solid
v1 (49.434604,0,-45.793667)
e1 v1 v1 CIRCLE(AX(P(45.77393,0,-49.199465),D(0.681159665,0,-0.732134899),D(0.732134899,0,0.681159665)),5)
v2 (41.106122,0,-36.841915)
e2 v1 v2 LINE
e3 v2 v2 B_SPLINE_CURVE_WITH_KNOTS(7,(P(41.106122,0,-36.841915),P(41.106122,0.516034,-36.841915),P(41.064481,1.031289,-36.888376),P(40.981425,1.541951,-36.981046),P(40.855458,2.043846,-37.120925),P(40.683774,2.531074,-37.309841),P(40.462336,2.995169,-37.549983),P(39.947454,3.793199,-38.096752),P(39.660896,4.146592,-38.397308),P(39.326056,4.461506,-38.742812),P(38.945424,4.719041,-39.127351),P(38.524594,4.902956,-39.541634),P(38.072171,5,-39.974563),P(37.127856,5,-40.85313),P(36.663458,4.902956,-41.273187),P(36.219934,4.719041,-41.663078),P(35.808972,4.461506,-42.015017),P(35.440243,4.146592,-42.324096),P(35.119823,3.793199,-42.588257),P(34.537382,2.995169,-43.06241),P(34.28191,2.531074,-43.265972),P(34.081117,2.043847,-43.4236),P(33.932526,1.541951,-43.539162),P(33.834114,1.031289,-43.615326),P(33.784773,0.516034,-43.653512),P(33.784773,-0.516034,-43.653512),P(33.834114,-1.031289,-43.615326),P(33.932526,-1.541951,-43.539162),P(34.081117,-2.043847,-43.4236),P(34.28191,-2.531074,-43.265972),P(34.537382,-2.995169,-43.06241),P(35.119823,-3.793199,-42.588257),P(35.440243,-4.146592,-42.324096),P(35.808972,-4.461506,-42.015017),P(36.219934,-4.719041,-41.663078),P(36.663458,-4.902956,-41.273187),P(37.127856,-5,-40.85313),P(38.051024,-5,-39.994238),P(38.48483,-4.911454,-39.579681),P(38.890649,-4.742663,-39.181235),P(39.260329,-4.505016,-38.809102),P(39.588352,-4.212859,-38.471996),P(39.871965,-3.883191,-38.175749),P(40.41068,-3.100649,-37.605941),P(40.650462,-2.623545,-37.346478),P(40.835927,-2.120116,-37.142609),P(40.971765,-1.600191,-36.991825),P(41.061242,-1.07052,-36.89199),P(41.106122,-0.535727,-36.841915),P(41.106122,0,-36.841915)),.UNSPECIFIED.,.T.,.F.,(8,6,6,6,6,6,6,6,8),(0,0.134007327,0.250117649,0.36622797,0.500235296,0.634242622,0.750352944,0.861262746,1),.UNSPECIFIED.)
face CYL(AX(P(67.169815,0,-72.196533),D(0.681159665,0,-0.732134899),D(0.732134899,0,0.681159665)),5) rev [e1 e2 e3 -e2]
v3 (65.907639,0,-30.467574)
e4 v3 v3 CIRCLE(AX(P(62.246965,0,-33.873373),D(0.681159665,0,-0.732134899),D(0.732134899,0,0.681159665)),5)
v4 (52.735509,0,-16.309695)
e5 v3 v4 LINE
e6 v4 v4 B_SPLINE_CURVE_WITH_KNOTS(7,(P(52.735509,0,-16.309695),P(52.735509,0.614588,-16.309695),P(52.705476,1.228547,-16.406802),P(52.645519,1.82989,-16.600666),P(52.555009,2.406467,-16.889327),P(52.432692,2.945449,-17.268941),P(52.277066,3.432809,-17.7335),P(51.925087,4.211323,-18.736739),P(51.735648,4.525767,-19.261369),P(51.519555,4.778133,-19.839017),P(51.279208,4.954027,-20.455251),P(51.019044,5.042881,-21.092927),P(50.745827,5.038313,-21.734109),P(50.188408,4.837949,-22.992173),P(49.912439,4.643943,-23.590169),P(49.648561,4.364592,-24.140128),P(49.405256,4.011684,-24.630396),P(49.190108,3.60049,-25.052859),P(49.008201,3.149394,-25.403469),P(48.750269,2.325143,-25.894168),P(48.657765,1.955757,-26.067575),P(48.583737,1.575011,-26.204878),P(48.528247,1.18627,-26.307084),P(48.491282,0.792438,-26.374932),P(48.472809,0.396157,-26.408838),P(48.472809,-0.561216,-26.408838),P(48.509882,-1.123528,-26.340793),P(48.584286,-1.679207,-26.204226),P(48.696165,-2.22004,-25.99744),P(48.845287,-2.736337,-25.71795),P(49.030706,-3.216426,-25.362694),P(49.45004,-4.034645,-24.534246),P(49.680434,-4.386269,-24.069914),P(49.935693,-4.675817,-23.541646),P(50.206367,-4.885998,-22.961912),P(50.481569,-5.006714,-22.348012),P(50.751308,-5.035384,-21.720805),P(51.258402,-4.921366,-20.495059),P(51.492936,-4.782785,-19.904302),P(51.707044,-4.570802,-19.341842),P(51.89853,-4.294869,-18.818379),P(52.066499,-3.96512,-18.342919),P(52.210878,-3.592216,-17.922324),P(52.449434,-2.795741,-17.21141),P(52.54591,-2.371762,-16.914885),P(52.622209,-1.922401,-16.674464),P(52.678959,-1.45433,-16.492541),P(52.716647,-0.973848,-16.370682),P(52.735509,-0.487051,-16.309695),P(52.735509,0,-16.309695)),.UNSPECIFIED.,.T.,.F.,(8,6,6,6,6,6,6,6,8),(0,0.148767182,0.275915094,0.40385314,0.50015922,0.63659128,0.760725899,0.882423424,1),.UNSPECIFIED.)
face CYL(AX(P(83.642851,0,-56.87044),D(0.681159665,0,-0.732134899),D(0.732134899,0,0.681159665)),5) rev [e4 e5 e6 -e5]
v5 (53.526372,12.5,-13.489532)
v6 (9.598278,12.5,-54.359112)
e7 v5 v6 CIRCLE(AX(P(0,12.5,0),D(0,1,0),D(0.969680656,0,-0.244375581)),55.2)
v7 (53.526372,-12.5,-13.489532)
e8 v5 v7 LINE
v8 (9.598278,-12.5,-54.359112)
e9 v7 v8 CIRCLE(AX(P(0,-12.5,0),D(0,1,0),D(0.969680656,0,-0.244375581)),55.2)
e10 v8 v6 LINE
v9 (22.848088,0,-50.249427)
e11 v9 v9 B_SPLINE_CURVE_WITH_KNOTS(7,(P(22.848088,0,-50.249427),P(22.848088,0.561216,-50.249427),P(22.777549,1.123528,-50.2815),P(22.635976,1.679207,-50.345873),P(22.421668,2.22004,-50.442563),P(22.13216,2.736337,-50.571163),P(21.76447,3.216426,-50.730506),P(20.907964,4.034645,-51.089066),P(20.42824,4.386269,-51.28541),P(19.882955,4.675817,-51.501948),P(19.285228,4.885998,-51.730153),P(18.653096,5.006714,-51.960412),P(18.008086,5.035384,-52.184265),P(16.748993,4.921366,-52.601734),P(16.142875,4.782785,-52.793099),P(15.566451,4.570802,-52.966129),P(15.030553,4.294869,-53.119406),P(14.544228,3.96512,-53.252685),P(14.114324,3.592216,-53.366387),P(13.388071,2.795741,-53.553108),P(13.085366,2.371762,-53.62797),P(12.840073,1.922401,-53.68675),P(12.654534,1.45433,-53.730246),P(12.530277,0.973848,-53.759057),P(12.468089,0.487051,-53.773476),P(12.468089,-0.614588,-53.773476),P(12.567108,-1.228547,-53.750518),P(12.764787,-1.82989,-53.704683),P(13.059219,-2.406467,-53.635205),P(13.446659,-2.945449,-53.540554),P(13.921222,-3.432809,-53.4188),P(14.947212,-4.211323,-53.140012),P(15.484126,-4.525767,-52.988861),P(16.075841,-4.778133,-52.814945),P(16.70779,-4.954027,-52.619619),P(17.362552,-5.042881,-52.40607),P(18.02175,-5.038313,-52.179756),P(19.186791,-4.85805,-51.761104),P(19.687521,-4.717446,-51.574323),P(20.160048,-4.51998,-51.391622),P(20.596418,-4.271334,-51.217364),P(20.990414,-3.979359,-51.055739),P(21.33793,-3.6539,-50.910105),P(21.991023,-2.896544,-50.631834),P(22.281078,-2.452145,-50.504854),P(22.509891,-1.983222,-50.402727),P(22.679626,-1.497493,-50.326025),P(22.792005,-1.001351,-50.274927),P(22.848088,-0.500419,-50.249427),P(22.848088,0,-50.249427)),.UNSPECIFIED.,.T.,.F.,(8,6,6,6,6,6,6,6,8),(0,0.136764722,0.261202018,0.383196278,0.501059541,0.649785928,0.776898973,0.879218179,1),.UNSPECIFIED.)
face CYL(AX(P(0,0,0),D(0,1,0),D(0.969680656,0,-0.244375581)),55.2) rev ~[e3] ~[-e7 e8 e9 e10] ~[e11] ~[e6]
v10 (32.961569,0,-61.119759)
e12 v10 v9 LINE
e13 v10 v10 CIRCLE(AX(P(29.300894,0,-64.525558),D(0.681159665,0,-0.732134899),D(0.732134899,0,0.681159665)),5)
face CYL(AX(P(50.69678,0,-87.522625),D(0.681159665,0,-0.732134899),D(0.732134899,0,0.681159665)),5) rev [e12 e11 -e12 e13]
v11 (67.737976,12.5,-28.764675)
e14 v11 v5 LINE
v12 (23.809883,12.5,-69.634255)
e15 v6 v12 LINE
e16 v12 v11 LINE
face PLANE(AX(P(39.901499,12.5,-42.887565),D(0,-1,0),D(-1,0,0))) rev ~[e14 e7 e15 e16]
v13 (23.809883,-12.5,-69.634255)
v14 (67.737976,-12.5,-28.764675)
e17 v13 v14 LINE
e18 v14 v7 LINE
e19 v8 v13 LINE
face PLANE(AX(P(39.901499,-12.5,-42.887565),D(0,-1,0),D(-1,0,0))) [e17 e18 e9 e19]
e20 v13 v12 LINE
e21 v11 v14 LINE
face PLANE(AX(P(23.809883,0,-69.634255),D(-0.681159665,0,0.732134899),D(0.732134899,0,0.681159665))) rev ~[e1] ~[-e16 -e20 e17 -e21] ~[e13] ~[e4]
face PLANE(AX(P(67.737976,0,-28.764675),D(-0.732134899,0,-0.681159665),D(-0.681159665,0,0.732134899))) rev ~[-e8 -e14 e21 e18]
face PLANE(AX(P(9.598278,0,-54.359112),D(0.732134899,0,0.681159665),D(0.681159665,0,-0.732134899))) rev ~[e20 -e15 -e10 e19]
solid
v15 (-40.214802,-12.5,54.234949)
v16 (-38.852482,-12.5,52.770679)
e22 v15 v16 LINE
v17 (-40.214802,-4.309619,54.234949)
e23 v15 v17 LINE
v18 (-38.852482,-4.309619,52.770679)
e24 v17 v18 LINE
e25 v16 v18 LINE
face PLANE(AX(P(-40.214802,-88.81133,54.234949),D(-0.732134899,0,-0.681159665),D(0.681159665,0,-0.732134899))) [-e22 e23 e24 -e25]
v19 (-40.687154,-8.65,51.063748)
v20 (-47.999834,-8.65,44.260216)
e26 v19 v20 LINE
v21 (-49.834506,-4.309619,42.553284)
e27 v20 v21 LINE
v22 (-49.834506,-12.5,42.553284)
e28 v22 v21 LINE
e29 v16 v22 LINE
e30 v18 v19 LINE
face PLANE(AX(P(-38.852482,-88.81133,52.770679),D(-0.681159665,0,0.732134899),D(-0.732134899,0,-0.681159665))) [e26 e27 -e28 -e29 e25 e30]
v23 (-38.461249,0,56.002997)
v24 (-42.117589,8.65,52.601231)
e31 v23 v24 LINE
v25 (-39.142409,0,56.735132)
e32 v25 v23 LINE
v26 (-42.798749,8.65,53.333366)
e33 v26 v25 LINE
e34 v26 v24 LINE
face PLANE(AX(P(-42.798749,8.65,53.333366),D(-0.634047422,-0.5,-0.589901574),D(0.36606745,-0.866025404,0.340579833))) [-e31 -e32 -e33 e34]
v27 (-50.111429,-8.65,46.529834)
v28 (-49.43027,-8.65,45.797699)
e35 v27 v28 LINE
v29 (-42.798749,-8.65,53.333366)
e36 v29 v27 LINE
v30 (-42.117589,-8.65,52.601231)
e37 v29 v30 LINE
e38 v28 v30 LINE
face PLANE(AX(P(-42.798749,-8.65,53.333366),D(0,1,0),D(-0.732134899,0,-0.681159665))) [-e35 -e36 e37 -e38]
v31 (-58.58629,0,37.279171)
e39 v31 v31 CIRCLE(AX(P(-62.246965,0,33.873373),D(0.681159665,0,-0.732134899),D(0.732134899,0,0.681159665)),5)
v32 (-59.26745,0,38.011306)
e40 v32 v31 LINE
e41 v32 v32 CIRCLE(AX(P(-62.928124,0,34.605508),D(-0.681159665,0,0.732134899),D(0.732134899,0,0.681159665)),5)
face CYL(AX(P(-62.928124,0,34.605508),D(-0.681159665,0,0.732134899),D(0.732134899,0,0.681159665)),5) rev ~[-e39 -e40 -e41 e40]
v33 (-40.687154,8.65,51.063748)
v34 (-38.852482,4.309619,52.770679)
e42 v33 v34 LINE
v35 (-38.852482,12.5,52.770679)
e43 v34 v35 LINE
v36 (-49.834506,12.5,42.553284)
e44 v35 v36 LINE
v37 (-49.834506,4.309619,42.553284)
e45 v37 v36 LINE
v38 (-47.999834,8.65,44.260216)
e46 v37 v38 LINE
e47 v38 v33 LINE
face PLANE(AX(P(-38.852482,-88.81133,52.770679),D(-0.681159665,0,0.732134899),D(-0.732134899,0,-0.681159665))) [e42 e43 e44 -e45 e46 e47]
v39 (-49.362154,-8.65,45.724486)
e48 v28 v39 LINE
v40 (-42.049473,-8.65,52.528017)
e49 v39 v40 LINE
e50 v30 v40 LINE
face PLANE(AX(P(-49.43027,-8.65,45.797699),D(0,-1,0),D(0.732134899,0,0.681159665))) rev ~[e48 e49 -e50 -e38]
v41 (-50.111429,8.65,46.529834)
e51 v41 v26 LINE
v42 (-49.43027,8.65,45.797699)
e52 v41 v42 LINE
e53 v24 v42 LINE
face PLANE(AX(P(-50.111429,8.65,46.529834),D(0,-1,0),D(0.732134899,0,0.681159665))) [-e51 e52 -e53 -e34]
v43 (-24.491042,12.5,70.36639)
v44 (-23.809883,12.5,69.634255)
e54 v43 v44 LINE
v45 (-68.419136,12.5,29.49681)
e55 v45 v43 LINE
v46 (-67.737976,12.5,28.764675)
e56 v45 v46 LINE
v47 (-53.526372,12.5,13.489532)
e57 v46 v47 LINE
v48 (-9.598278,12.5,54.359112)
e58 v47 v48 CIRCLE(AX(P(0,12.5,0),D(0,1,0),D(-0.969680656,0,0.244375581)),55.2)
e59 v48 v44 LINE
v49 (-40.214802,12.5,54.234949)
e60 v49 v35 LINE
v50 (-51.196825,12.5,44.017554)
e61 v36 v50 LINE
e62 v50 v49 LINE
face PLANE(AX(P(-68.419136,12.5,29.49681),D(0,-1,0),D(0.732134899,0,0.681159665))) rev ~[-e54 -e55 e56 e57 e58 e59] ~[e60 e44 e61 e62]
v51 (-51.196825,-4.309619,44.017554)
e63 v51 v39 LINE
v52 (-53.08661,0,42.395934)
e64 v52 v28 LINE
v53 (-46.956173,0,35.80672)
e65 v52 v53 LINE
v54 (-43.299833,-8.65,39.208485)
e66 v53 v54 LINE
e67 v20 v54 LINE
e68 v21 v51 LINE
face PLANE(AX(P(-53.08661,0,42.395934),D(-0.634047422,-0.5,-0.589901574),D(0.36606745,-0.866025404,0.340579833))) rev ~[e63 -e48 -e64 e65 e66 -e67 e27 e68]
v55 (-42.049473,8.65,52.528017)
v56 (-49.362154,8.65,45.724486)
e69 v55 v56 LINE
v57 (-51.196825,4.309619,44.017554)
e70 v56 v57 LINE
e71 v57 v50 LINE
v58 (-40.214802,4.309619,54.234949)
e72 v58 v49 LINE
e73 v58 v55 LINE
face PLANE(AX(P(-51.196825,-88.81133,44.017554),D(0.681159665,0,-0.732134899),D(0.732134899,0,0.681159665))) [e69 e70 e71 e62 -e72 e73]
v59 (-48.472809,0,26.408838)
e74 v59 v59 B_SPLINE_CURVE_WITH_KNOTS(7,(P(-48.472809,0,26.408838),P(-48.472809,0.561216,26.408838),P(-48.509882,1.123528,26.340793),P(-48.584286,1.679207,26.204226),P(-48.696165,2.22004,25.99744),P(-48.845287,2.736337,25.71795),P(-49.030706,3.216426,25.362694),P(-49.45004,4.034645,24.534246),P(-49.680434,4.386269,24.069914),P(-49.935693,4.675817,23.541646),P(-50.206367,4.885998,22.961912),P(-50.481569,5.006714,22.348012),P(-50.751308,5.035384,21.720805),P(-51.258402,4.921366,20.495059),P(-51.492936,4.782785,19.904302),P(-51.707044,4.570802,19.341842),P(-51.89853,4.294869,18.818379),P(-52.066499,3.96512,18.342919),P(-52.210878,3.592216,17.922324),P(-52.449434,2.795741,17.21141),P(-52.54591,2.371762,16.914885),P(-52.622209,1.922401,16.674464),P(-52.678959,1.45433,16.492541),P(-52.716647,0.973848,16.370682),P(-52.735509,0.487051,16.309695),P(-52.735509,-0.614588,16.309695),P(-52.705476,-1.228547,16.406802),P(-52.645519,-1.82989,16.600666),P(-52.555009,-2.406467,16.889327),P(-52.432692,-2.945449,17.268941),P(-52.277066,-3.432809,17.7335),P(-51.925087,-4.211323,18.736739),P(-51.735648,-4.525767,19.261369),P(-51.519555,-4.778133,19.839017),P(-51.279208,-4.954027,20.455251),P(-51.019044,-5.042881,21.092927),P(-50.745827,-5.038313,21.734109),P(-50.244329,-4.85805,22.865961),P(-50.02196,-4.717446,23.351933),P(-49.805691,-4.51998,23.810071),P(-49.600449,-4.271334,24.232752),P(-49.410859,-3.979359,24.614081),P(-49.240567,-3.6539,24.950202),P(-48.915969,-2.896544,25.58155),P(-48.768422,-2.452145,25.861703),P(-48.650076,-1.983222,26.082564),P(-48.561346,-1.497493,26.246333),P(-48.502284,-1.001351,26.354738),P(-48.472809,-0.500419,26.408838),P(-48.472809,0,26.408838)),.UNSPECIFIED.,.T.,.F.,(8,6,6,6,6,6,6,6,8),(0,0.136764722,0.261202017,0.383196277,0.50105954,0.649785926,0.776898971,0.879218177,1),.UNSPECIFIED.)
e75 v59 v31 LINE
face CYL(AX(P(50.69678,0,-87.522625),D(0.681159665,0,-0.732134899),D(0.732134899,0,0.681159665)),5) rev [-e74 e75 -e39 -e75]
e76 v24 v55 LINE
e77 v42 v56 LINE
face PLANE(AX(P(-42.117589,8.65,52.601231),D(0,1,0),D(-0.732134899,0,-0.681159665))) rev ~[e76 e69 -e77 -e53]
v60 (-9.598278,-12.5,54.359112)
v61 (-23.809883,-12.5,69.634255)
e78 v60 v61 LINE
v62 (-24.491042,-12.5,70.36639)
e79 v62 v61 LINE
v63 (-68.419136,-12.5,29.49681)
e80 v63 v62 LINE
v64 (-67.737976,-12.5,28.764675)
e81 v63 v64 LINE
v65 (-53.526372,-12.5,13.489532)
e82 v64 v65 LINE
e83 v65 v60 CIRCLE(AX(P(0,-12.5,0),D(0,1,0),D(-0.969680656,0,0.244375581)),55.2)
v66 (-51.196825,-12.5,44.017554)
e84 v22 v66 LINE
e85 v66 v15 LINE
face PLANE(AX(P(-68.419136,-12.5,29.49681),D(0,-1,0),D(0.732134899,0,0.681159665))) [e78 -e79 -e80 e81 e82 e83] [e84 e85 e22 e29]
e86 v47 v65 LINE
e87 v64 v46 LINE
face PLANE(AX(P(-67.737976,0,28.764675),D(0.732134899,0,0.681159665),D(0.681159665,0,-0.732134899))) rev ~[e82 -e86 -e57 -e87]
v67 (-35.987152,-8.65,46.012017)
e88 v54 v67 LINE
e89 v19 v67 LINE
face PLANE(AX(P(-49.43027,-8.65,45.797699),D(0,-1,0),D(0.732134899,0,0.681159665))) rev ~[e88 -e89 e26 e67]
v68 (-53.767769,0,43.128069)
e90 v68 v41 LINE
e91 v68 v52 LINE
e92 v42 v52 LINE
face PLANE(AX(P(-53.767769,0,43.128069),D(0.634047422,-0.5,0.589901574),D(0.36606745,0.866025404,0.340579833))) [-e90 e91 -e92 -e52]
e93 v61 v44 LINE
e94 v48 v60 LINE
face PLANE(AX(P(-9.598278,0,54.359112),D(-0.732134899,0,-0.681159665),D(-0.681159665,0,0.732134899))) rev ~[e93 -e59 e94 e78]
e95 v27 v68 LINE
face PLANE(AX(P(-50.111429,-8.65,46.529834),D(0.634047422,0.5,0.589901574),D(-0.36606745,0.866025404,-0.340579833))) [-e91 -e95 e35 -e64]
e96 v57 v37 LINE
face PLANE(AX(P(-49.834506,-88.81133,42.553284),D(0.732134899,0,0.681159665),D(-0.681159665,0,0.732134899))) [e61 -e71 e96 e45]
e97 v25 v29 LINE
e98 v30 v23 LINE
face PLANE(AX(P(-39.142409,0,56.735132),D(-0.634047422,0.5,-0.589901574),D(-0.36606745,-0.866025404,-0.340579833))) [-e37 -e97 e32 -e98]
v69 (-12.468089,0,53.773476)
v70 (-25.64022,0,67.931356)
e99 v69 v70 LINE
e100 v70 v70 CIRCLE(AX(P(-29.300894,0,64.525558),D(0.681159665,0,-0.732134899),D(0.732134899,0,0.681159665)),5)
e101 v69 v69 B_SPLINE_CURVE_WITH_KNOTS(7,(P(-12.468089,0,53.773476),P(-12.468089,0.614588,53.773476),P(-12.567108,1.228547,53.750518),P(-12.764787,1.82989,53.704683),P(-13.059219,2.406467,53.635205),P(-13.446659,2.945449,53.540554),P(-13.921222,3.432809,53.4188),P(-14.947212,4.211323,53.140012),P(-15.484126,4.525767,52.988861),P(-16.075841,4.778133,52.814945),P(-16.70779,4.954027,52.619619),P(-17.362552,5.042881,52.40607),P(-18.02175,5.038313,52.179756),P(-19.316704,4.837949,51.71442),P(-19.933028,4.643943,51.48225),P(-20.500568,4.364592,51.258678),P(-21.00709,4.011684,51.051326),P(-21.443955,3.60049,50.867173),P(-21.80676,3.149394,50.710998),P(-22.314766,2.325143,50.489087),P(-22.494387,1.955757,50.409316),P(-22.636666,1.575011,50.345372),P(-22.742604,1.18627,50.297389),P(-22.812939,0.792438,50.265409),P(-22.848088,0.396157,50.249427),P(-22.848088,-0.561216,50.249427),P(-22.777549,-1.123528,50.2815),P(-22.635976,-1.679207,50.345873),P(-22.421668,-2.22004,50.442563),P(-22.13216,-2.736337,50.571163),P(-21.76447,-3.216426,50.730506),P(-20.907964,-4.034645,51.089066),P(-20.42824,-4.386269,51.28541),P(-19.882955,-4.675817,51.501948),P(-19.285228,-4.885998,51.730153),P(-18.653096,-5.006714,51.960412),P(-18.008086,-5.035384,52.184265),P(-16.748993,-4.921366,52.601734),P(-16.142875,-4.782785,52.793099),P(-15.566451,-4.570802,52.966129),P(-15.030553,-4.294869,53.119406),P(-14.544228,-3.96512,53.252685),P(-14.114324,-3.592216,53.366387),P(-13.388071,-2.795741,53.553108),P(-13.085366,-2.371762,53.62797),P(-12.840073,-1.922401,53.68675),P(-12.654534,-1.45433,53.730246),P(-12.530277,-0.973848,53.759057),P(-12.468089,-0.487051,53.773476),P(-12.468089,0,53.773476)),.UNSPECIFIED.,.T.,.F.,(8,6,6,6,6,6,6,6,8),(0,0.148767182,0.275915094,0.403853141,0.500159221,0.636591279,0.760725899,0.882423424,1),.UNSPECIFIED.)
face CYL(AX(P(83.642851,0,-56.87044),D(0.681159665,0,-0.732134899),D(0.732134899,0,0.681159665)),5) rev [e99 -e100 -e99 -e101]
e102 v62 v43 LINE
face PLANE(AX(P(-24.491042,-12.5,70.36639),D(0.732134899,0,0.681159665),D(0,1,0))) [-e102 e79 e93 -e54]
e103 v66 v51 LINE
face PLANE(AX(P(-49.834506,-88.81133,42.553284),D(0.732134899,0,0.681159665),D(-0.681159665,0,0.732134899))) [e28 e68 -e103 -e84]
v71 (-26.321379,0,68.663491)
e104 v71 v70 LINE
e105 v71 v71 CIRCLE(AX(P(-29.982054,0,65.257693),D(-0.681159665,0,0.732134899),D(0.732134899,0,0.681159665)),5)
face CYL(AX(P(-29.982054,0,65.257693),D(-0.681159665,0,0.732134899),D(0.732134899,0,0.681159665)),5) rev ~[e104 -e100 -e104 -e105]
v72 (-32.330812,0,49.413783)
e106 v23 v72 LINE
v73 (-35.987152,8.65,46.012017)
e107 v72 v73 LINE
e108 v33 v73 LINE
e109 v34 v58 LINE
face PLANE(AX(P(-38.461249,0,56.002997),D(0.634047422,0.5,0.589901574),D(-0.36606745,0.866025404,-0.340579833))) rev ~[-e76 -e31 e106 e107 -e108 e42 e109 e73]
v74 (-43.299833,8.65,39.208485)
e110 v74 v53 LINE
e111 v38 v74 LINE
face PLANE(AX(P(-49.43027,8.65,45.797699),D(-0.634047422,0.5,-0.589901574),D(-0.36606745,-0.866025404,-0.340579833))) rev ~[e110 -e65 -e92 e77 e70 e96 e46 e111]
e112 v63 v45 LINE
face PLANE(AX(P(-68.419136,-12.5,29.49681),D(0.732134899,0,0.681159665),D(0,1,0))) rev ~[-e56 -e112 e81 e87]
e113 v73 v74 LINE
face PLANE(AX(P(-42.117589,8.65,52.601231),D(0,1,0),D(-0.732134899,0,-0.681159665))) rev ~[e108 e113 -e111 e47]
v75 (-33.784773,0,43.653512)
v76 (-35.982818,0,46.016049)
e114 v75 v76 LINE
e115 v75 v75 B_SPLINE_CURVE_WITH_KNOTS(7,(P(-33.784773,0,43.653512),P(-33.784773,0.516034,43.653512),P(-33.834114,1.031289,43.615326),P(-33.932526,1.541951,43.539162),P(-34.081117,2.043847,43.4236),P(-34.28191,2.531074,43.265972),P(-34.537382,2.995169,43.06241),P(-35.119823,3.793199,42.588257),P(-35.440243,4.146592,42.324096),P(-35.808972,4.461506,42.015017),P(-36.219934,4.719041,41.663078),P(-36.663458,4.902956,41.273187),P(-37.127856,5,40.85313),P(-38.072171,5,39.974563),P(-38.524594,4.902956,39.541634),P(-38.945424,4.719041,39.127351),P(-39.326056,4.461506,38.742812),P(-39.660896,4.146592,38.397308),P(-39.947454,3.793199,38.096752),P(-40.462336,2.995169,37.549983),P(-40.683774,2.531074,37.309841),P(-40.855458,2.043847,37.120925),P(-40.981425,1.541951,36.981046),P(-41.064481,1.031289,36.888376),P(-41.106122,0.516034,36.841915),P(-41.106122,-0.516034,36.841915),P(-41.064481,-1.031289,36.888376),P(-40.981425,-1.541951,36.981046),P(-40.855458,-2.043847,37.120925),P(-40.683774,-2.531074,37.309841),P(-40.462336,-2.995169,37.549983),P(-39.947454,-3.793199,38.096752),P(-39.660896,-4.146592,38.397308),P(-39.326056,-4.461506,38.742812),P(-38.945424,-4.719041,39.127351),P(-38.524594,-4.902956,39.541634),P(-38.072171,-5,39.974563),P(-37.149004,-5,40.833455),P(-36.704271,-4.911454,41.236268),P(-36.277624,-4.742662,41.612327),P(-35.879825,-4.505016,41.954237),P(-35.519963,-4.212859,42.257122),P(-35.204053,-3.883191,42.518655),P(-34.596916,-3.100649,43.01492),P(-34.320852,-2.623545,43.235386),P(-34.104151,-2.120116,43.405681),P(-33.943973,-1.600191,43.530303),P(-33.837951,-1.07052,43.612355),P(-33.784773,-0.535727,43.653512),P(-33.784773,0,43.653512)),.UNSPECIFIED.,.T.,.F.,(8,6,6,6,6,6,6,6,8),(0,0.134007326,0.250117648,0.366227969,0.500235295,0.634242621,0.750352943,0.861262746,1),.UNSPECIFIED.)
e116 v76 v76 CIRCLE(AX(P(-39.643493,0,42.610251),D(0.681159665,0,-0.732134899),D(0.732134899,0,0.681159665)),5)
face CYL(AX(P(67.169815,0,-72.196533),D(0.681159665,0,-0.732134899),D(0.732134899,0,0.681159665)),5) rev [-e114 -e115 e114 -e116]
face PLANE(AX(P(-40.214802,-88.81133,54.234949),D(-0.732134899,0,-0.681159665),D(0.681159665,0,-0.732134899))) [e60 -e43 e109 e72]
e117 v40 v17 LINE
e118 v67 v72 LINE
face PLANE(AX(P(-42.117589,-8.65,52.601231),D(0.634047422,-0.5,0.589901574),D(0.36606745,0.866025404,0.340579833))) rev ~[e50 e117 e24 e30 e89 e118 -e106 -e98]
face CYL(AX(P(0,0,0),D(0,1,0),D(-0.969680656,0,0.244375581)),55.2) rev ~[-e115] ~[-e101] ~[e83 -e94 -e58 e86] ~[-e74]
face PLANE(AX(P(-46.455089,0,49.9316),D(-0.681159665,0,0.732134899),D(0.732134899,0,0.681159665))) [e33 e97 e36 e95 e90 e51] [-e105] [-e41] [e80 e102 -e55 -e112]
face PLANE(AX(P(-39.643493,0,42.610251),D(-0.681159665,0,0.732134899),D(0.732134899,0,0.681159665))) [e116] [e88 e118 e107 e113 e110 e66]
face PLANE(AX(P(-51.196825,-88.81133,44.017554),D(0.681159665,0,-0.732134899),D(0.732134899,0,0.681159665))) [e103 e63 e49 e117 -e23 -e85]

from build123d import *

# Parameters (mm, degrees)
BOSS_EXTRUDE1_DEPTH     = 12.5
BOSS_EXTRUDE1_2_DEPTH   = 12.5
CUT_EXTRUDE1_DEPTH      = 165.810970211
CUT_EXTRUDE1_DEPTH_BACK = 165.810970211
SKETCH3_R               = 5
CUT_EXTRUDE2_DEPTH      = 9
CUT_EXTRUDE3_DEPTH      = 101.311330148
CUT_EXTRUDE3_DEPTH_BACK = 101.311330148
BOSS_EXTRUDE2_START     = 1
SKETCH6_W               = 60
SKETCH6_H               = 25
SKETCH6_R               = 5
BOSS_EXTRUDE2_DEPTH     = 1


with BuildPart() as part:
    # Sketch2 → Boss-Extrude1 (new, symmetric)
    with BuildSketch(Plane(origin=(0, 0, 0), x_dir=(1, 0, 0), z_dir=(0, 1, 0))):
        with BuildLine():
            Line((23.809882535, 69.634255174), (67.737976478, 28.764675258))
            Line((67.737976478, 28.764675258), (53.526372239, 13.48953205))
            ThreePointArc((53.526372239, 13.48953205), (37.600013523, 40.413846427), (9.598278296, 54.359111966))
            Line((9.598278296, 54.359111966), (23.809882535, 69.634255174))
        make_face()
    extrude(amount=BOSS_EXTRUDE1_DEPTH, both=True)


with BuildPart() as body_2:
    # Sketch2 → Boss-Extrude1 2 (new, symmetric)
    with BuildSketch(Plane(origin=(0, 0, 0), x_dir=(1, 0, 0), z_dir=(0, 1, 0))):
        with BuildLine():
            Line((-67.737976478, -28.764675258), (-53.526372239, -13.48953205))
            ThreePointArc((-53.526372239, -13.48953205), (-37.600013523, -40.413846427), (-9.598278296, -54.359111966))
            Line((-9.598278296, -54.359111966), (-23.809882535, -69.634255174))
            Line((-23.809882535, -69.634255174), (-67.737976478, -28.764675258))
        make_face()
    extrude(amount=BOSS_EXTRUDE1_2_DEPTH, both=True)


with BuildPart() as cut_extrude1_tool:
    # Sketch3 → Cut-Extrude1 (new, two sides: drawn at the far end of the back side and taken through both)
    with BuildSketch(Plane(origin=(-45.773929507, 0, 49.199465216), x_dir=(0.7321348990455281, 0, 0.6811596652765007), z_dir=(-0.6811596652765007, 0, 0.7321348990455281)).offset(-CUT_EXTRUDE1_DEPTH_BACK)):
        with Locations((-22.5, 0)):
            Circle(SKETCH3_R)
        Circle(SKETCH3_R)
        with Locations((22.5, 0)):
            Circle(SKETCH3_R)
    extrude(amount=CUT_EXTRUDE1_DEPTH + CUT_EXTRUDE1_DEPTH_BACK)


with BuildPart() as part_1:
    add(part.part)

    # Cut-Extrude1: cut by cut_extrude1_tool
    add(cut_extrude1_tool.part, mode=Mode.SUBTRACT)


with BuildPart() as body_2_1:
    add(body_2.part)

    # Cut-Extrude1: cut by cut_extrude1_tool
    add(cut_extrude1_tool.part, mode=Mode.SUBTRACT)

    # Sketch4 → Cut-Extrude2 (cut)
    with BuildSketch(Plane(origin=(-45.773929507, 0, 49.199465216), x_dir=(0.7321348990455281, 0, 0.6811596652765007), z_dir=(-0.6811596652765007, 0, 0.7321348990455281))):
        Polygon((4.994079828, 8.65), (-4.994079828, 8.65), (-9.988159657, 0), (-4.994079828, -8.65), (4.994079828, -8.65), (9.988159657, 0), align=None)
    extrude(amount=-CUT_EXTRUDE2_DEPTH, mode=Mode.SUBTRACT)

    # Sketch5 → Cut-Extrude3 (cut, two sides: drawn at the far end of the back side and taken through both)
    with BuildSketch(Plane(origin=(0, 12.5, 0), x_dir=(1, 0, 0), z_dir=(0, 1, 0)).offset(-CUT_EXTRUDE3_DEPTH_BACK)):
        Polygon((-51.196825283, -44.017554236), (-40.214801797, -54.234949216), (-38.852482467, -52.770679417), (-49.834505952, -42.553284438), align=None)
    extrude(amount=CUT_EXTRUDE3_DEPTH + CUT_EXTRUDE3_DEPTH_BACK, mode=Mode.SUBTRACT)

    # Sketch6 → Boss-Extrude2 (add)
    with BuildSketch(Plane(origin=(-45.773929507, 0, 49.199465216), x_dir=(0.7321348990455281, 0, 0.6811596652765007), z_dir=(-0.6811596652765007, 0, 0.7321348990455281)).offset(BOSS_EXTRUDE2_START)):
        Rectangle(SKETCH6_W, SKETCH6_H)
        with Locations((-22.5, 0)):
            Circle(SKETCH6_R, mode=Mode.SUBTRACT)
        Polygon((-4.994079828, -8.65), (-9.988159657, 0), (-4.994079828, 8.65), (4.994079828, 8.65), (9.988159657, 0), (4.994079828, -8.65), align=None, mode=Mode.SUBTRACT)
        with Locations((22.5, 0)):
            Circle(SKETCH6_R, mode=Mode.SUBTRACT)
    extrude(amount=-BOSS_EXTRUDE2_DEPTH)


solid = Compound([part_1.part, body_2_1.part])
